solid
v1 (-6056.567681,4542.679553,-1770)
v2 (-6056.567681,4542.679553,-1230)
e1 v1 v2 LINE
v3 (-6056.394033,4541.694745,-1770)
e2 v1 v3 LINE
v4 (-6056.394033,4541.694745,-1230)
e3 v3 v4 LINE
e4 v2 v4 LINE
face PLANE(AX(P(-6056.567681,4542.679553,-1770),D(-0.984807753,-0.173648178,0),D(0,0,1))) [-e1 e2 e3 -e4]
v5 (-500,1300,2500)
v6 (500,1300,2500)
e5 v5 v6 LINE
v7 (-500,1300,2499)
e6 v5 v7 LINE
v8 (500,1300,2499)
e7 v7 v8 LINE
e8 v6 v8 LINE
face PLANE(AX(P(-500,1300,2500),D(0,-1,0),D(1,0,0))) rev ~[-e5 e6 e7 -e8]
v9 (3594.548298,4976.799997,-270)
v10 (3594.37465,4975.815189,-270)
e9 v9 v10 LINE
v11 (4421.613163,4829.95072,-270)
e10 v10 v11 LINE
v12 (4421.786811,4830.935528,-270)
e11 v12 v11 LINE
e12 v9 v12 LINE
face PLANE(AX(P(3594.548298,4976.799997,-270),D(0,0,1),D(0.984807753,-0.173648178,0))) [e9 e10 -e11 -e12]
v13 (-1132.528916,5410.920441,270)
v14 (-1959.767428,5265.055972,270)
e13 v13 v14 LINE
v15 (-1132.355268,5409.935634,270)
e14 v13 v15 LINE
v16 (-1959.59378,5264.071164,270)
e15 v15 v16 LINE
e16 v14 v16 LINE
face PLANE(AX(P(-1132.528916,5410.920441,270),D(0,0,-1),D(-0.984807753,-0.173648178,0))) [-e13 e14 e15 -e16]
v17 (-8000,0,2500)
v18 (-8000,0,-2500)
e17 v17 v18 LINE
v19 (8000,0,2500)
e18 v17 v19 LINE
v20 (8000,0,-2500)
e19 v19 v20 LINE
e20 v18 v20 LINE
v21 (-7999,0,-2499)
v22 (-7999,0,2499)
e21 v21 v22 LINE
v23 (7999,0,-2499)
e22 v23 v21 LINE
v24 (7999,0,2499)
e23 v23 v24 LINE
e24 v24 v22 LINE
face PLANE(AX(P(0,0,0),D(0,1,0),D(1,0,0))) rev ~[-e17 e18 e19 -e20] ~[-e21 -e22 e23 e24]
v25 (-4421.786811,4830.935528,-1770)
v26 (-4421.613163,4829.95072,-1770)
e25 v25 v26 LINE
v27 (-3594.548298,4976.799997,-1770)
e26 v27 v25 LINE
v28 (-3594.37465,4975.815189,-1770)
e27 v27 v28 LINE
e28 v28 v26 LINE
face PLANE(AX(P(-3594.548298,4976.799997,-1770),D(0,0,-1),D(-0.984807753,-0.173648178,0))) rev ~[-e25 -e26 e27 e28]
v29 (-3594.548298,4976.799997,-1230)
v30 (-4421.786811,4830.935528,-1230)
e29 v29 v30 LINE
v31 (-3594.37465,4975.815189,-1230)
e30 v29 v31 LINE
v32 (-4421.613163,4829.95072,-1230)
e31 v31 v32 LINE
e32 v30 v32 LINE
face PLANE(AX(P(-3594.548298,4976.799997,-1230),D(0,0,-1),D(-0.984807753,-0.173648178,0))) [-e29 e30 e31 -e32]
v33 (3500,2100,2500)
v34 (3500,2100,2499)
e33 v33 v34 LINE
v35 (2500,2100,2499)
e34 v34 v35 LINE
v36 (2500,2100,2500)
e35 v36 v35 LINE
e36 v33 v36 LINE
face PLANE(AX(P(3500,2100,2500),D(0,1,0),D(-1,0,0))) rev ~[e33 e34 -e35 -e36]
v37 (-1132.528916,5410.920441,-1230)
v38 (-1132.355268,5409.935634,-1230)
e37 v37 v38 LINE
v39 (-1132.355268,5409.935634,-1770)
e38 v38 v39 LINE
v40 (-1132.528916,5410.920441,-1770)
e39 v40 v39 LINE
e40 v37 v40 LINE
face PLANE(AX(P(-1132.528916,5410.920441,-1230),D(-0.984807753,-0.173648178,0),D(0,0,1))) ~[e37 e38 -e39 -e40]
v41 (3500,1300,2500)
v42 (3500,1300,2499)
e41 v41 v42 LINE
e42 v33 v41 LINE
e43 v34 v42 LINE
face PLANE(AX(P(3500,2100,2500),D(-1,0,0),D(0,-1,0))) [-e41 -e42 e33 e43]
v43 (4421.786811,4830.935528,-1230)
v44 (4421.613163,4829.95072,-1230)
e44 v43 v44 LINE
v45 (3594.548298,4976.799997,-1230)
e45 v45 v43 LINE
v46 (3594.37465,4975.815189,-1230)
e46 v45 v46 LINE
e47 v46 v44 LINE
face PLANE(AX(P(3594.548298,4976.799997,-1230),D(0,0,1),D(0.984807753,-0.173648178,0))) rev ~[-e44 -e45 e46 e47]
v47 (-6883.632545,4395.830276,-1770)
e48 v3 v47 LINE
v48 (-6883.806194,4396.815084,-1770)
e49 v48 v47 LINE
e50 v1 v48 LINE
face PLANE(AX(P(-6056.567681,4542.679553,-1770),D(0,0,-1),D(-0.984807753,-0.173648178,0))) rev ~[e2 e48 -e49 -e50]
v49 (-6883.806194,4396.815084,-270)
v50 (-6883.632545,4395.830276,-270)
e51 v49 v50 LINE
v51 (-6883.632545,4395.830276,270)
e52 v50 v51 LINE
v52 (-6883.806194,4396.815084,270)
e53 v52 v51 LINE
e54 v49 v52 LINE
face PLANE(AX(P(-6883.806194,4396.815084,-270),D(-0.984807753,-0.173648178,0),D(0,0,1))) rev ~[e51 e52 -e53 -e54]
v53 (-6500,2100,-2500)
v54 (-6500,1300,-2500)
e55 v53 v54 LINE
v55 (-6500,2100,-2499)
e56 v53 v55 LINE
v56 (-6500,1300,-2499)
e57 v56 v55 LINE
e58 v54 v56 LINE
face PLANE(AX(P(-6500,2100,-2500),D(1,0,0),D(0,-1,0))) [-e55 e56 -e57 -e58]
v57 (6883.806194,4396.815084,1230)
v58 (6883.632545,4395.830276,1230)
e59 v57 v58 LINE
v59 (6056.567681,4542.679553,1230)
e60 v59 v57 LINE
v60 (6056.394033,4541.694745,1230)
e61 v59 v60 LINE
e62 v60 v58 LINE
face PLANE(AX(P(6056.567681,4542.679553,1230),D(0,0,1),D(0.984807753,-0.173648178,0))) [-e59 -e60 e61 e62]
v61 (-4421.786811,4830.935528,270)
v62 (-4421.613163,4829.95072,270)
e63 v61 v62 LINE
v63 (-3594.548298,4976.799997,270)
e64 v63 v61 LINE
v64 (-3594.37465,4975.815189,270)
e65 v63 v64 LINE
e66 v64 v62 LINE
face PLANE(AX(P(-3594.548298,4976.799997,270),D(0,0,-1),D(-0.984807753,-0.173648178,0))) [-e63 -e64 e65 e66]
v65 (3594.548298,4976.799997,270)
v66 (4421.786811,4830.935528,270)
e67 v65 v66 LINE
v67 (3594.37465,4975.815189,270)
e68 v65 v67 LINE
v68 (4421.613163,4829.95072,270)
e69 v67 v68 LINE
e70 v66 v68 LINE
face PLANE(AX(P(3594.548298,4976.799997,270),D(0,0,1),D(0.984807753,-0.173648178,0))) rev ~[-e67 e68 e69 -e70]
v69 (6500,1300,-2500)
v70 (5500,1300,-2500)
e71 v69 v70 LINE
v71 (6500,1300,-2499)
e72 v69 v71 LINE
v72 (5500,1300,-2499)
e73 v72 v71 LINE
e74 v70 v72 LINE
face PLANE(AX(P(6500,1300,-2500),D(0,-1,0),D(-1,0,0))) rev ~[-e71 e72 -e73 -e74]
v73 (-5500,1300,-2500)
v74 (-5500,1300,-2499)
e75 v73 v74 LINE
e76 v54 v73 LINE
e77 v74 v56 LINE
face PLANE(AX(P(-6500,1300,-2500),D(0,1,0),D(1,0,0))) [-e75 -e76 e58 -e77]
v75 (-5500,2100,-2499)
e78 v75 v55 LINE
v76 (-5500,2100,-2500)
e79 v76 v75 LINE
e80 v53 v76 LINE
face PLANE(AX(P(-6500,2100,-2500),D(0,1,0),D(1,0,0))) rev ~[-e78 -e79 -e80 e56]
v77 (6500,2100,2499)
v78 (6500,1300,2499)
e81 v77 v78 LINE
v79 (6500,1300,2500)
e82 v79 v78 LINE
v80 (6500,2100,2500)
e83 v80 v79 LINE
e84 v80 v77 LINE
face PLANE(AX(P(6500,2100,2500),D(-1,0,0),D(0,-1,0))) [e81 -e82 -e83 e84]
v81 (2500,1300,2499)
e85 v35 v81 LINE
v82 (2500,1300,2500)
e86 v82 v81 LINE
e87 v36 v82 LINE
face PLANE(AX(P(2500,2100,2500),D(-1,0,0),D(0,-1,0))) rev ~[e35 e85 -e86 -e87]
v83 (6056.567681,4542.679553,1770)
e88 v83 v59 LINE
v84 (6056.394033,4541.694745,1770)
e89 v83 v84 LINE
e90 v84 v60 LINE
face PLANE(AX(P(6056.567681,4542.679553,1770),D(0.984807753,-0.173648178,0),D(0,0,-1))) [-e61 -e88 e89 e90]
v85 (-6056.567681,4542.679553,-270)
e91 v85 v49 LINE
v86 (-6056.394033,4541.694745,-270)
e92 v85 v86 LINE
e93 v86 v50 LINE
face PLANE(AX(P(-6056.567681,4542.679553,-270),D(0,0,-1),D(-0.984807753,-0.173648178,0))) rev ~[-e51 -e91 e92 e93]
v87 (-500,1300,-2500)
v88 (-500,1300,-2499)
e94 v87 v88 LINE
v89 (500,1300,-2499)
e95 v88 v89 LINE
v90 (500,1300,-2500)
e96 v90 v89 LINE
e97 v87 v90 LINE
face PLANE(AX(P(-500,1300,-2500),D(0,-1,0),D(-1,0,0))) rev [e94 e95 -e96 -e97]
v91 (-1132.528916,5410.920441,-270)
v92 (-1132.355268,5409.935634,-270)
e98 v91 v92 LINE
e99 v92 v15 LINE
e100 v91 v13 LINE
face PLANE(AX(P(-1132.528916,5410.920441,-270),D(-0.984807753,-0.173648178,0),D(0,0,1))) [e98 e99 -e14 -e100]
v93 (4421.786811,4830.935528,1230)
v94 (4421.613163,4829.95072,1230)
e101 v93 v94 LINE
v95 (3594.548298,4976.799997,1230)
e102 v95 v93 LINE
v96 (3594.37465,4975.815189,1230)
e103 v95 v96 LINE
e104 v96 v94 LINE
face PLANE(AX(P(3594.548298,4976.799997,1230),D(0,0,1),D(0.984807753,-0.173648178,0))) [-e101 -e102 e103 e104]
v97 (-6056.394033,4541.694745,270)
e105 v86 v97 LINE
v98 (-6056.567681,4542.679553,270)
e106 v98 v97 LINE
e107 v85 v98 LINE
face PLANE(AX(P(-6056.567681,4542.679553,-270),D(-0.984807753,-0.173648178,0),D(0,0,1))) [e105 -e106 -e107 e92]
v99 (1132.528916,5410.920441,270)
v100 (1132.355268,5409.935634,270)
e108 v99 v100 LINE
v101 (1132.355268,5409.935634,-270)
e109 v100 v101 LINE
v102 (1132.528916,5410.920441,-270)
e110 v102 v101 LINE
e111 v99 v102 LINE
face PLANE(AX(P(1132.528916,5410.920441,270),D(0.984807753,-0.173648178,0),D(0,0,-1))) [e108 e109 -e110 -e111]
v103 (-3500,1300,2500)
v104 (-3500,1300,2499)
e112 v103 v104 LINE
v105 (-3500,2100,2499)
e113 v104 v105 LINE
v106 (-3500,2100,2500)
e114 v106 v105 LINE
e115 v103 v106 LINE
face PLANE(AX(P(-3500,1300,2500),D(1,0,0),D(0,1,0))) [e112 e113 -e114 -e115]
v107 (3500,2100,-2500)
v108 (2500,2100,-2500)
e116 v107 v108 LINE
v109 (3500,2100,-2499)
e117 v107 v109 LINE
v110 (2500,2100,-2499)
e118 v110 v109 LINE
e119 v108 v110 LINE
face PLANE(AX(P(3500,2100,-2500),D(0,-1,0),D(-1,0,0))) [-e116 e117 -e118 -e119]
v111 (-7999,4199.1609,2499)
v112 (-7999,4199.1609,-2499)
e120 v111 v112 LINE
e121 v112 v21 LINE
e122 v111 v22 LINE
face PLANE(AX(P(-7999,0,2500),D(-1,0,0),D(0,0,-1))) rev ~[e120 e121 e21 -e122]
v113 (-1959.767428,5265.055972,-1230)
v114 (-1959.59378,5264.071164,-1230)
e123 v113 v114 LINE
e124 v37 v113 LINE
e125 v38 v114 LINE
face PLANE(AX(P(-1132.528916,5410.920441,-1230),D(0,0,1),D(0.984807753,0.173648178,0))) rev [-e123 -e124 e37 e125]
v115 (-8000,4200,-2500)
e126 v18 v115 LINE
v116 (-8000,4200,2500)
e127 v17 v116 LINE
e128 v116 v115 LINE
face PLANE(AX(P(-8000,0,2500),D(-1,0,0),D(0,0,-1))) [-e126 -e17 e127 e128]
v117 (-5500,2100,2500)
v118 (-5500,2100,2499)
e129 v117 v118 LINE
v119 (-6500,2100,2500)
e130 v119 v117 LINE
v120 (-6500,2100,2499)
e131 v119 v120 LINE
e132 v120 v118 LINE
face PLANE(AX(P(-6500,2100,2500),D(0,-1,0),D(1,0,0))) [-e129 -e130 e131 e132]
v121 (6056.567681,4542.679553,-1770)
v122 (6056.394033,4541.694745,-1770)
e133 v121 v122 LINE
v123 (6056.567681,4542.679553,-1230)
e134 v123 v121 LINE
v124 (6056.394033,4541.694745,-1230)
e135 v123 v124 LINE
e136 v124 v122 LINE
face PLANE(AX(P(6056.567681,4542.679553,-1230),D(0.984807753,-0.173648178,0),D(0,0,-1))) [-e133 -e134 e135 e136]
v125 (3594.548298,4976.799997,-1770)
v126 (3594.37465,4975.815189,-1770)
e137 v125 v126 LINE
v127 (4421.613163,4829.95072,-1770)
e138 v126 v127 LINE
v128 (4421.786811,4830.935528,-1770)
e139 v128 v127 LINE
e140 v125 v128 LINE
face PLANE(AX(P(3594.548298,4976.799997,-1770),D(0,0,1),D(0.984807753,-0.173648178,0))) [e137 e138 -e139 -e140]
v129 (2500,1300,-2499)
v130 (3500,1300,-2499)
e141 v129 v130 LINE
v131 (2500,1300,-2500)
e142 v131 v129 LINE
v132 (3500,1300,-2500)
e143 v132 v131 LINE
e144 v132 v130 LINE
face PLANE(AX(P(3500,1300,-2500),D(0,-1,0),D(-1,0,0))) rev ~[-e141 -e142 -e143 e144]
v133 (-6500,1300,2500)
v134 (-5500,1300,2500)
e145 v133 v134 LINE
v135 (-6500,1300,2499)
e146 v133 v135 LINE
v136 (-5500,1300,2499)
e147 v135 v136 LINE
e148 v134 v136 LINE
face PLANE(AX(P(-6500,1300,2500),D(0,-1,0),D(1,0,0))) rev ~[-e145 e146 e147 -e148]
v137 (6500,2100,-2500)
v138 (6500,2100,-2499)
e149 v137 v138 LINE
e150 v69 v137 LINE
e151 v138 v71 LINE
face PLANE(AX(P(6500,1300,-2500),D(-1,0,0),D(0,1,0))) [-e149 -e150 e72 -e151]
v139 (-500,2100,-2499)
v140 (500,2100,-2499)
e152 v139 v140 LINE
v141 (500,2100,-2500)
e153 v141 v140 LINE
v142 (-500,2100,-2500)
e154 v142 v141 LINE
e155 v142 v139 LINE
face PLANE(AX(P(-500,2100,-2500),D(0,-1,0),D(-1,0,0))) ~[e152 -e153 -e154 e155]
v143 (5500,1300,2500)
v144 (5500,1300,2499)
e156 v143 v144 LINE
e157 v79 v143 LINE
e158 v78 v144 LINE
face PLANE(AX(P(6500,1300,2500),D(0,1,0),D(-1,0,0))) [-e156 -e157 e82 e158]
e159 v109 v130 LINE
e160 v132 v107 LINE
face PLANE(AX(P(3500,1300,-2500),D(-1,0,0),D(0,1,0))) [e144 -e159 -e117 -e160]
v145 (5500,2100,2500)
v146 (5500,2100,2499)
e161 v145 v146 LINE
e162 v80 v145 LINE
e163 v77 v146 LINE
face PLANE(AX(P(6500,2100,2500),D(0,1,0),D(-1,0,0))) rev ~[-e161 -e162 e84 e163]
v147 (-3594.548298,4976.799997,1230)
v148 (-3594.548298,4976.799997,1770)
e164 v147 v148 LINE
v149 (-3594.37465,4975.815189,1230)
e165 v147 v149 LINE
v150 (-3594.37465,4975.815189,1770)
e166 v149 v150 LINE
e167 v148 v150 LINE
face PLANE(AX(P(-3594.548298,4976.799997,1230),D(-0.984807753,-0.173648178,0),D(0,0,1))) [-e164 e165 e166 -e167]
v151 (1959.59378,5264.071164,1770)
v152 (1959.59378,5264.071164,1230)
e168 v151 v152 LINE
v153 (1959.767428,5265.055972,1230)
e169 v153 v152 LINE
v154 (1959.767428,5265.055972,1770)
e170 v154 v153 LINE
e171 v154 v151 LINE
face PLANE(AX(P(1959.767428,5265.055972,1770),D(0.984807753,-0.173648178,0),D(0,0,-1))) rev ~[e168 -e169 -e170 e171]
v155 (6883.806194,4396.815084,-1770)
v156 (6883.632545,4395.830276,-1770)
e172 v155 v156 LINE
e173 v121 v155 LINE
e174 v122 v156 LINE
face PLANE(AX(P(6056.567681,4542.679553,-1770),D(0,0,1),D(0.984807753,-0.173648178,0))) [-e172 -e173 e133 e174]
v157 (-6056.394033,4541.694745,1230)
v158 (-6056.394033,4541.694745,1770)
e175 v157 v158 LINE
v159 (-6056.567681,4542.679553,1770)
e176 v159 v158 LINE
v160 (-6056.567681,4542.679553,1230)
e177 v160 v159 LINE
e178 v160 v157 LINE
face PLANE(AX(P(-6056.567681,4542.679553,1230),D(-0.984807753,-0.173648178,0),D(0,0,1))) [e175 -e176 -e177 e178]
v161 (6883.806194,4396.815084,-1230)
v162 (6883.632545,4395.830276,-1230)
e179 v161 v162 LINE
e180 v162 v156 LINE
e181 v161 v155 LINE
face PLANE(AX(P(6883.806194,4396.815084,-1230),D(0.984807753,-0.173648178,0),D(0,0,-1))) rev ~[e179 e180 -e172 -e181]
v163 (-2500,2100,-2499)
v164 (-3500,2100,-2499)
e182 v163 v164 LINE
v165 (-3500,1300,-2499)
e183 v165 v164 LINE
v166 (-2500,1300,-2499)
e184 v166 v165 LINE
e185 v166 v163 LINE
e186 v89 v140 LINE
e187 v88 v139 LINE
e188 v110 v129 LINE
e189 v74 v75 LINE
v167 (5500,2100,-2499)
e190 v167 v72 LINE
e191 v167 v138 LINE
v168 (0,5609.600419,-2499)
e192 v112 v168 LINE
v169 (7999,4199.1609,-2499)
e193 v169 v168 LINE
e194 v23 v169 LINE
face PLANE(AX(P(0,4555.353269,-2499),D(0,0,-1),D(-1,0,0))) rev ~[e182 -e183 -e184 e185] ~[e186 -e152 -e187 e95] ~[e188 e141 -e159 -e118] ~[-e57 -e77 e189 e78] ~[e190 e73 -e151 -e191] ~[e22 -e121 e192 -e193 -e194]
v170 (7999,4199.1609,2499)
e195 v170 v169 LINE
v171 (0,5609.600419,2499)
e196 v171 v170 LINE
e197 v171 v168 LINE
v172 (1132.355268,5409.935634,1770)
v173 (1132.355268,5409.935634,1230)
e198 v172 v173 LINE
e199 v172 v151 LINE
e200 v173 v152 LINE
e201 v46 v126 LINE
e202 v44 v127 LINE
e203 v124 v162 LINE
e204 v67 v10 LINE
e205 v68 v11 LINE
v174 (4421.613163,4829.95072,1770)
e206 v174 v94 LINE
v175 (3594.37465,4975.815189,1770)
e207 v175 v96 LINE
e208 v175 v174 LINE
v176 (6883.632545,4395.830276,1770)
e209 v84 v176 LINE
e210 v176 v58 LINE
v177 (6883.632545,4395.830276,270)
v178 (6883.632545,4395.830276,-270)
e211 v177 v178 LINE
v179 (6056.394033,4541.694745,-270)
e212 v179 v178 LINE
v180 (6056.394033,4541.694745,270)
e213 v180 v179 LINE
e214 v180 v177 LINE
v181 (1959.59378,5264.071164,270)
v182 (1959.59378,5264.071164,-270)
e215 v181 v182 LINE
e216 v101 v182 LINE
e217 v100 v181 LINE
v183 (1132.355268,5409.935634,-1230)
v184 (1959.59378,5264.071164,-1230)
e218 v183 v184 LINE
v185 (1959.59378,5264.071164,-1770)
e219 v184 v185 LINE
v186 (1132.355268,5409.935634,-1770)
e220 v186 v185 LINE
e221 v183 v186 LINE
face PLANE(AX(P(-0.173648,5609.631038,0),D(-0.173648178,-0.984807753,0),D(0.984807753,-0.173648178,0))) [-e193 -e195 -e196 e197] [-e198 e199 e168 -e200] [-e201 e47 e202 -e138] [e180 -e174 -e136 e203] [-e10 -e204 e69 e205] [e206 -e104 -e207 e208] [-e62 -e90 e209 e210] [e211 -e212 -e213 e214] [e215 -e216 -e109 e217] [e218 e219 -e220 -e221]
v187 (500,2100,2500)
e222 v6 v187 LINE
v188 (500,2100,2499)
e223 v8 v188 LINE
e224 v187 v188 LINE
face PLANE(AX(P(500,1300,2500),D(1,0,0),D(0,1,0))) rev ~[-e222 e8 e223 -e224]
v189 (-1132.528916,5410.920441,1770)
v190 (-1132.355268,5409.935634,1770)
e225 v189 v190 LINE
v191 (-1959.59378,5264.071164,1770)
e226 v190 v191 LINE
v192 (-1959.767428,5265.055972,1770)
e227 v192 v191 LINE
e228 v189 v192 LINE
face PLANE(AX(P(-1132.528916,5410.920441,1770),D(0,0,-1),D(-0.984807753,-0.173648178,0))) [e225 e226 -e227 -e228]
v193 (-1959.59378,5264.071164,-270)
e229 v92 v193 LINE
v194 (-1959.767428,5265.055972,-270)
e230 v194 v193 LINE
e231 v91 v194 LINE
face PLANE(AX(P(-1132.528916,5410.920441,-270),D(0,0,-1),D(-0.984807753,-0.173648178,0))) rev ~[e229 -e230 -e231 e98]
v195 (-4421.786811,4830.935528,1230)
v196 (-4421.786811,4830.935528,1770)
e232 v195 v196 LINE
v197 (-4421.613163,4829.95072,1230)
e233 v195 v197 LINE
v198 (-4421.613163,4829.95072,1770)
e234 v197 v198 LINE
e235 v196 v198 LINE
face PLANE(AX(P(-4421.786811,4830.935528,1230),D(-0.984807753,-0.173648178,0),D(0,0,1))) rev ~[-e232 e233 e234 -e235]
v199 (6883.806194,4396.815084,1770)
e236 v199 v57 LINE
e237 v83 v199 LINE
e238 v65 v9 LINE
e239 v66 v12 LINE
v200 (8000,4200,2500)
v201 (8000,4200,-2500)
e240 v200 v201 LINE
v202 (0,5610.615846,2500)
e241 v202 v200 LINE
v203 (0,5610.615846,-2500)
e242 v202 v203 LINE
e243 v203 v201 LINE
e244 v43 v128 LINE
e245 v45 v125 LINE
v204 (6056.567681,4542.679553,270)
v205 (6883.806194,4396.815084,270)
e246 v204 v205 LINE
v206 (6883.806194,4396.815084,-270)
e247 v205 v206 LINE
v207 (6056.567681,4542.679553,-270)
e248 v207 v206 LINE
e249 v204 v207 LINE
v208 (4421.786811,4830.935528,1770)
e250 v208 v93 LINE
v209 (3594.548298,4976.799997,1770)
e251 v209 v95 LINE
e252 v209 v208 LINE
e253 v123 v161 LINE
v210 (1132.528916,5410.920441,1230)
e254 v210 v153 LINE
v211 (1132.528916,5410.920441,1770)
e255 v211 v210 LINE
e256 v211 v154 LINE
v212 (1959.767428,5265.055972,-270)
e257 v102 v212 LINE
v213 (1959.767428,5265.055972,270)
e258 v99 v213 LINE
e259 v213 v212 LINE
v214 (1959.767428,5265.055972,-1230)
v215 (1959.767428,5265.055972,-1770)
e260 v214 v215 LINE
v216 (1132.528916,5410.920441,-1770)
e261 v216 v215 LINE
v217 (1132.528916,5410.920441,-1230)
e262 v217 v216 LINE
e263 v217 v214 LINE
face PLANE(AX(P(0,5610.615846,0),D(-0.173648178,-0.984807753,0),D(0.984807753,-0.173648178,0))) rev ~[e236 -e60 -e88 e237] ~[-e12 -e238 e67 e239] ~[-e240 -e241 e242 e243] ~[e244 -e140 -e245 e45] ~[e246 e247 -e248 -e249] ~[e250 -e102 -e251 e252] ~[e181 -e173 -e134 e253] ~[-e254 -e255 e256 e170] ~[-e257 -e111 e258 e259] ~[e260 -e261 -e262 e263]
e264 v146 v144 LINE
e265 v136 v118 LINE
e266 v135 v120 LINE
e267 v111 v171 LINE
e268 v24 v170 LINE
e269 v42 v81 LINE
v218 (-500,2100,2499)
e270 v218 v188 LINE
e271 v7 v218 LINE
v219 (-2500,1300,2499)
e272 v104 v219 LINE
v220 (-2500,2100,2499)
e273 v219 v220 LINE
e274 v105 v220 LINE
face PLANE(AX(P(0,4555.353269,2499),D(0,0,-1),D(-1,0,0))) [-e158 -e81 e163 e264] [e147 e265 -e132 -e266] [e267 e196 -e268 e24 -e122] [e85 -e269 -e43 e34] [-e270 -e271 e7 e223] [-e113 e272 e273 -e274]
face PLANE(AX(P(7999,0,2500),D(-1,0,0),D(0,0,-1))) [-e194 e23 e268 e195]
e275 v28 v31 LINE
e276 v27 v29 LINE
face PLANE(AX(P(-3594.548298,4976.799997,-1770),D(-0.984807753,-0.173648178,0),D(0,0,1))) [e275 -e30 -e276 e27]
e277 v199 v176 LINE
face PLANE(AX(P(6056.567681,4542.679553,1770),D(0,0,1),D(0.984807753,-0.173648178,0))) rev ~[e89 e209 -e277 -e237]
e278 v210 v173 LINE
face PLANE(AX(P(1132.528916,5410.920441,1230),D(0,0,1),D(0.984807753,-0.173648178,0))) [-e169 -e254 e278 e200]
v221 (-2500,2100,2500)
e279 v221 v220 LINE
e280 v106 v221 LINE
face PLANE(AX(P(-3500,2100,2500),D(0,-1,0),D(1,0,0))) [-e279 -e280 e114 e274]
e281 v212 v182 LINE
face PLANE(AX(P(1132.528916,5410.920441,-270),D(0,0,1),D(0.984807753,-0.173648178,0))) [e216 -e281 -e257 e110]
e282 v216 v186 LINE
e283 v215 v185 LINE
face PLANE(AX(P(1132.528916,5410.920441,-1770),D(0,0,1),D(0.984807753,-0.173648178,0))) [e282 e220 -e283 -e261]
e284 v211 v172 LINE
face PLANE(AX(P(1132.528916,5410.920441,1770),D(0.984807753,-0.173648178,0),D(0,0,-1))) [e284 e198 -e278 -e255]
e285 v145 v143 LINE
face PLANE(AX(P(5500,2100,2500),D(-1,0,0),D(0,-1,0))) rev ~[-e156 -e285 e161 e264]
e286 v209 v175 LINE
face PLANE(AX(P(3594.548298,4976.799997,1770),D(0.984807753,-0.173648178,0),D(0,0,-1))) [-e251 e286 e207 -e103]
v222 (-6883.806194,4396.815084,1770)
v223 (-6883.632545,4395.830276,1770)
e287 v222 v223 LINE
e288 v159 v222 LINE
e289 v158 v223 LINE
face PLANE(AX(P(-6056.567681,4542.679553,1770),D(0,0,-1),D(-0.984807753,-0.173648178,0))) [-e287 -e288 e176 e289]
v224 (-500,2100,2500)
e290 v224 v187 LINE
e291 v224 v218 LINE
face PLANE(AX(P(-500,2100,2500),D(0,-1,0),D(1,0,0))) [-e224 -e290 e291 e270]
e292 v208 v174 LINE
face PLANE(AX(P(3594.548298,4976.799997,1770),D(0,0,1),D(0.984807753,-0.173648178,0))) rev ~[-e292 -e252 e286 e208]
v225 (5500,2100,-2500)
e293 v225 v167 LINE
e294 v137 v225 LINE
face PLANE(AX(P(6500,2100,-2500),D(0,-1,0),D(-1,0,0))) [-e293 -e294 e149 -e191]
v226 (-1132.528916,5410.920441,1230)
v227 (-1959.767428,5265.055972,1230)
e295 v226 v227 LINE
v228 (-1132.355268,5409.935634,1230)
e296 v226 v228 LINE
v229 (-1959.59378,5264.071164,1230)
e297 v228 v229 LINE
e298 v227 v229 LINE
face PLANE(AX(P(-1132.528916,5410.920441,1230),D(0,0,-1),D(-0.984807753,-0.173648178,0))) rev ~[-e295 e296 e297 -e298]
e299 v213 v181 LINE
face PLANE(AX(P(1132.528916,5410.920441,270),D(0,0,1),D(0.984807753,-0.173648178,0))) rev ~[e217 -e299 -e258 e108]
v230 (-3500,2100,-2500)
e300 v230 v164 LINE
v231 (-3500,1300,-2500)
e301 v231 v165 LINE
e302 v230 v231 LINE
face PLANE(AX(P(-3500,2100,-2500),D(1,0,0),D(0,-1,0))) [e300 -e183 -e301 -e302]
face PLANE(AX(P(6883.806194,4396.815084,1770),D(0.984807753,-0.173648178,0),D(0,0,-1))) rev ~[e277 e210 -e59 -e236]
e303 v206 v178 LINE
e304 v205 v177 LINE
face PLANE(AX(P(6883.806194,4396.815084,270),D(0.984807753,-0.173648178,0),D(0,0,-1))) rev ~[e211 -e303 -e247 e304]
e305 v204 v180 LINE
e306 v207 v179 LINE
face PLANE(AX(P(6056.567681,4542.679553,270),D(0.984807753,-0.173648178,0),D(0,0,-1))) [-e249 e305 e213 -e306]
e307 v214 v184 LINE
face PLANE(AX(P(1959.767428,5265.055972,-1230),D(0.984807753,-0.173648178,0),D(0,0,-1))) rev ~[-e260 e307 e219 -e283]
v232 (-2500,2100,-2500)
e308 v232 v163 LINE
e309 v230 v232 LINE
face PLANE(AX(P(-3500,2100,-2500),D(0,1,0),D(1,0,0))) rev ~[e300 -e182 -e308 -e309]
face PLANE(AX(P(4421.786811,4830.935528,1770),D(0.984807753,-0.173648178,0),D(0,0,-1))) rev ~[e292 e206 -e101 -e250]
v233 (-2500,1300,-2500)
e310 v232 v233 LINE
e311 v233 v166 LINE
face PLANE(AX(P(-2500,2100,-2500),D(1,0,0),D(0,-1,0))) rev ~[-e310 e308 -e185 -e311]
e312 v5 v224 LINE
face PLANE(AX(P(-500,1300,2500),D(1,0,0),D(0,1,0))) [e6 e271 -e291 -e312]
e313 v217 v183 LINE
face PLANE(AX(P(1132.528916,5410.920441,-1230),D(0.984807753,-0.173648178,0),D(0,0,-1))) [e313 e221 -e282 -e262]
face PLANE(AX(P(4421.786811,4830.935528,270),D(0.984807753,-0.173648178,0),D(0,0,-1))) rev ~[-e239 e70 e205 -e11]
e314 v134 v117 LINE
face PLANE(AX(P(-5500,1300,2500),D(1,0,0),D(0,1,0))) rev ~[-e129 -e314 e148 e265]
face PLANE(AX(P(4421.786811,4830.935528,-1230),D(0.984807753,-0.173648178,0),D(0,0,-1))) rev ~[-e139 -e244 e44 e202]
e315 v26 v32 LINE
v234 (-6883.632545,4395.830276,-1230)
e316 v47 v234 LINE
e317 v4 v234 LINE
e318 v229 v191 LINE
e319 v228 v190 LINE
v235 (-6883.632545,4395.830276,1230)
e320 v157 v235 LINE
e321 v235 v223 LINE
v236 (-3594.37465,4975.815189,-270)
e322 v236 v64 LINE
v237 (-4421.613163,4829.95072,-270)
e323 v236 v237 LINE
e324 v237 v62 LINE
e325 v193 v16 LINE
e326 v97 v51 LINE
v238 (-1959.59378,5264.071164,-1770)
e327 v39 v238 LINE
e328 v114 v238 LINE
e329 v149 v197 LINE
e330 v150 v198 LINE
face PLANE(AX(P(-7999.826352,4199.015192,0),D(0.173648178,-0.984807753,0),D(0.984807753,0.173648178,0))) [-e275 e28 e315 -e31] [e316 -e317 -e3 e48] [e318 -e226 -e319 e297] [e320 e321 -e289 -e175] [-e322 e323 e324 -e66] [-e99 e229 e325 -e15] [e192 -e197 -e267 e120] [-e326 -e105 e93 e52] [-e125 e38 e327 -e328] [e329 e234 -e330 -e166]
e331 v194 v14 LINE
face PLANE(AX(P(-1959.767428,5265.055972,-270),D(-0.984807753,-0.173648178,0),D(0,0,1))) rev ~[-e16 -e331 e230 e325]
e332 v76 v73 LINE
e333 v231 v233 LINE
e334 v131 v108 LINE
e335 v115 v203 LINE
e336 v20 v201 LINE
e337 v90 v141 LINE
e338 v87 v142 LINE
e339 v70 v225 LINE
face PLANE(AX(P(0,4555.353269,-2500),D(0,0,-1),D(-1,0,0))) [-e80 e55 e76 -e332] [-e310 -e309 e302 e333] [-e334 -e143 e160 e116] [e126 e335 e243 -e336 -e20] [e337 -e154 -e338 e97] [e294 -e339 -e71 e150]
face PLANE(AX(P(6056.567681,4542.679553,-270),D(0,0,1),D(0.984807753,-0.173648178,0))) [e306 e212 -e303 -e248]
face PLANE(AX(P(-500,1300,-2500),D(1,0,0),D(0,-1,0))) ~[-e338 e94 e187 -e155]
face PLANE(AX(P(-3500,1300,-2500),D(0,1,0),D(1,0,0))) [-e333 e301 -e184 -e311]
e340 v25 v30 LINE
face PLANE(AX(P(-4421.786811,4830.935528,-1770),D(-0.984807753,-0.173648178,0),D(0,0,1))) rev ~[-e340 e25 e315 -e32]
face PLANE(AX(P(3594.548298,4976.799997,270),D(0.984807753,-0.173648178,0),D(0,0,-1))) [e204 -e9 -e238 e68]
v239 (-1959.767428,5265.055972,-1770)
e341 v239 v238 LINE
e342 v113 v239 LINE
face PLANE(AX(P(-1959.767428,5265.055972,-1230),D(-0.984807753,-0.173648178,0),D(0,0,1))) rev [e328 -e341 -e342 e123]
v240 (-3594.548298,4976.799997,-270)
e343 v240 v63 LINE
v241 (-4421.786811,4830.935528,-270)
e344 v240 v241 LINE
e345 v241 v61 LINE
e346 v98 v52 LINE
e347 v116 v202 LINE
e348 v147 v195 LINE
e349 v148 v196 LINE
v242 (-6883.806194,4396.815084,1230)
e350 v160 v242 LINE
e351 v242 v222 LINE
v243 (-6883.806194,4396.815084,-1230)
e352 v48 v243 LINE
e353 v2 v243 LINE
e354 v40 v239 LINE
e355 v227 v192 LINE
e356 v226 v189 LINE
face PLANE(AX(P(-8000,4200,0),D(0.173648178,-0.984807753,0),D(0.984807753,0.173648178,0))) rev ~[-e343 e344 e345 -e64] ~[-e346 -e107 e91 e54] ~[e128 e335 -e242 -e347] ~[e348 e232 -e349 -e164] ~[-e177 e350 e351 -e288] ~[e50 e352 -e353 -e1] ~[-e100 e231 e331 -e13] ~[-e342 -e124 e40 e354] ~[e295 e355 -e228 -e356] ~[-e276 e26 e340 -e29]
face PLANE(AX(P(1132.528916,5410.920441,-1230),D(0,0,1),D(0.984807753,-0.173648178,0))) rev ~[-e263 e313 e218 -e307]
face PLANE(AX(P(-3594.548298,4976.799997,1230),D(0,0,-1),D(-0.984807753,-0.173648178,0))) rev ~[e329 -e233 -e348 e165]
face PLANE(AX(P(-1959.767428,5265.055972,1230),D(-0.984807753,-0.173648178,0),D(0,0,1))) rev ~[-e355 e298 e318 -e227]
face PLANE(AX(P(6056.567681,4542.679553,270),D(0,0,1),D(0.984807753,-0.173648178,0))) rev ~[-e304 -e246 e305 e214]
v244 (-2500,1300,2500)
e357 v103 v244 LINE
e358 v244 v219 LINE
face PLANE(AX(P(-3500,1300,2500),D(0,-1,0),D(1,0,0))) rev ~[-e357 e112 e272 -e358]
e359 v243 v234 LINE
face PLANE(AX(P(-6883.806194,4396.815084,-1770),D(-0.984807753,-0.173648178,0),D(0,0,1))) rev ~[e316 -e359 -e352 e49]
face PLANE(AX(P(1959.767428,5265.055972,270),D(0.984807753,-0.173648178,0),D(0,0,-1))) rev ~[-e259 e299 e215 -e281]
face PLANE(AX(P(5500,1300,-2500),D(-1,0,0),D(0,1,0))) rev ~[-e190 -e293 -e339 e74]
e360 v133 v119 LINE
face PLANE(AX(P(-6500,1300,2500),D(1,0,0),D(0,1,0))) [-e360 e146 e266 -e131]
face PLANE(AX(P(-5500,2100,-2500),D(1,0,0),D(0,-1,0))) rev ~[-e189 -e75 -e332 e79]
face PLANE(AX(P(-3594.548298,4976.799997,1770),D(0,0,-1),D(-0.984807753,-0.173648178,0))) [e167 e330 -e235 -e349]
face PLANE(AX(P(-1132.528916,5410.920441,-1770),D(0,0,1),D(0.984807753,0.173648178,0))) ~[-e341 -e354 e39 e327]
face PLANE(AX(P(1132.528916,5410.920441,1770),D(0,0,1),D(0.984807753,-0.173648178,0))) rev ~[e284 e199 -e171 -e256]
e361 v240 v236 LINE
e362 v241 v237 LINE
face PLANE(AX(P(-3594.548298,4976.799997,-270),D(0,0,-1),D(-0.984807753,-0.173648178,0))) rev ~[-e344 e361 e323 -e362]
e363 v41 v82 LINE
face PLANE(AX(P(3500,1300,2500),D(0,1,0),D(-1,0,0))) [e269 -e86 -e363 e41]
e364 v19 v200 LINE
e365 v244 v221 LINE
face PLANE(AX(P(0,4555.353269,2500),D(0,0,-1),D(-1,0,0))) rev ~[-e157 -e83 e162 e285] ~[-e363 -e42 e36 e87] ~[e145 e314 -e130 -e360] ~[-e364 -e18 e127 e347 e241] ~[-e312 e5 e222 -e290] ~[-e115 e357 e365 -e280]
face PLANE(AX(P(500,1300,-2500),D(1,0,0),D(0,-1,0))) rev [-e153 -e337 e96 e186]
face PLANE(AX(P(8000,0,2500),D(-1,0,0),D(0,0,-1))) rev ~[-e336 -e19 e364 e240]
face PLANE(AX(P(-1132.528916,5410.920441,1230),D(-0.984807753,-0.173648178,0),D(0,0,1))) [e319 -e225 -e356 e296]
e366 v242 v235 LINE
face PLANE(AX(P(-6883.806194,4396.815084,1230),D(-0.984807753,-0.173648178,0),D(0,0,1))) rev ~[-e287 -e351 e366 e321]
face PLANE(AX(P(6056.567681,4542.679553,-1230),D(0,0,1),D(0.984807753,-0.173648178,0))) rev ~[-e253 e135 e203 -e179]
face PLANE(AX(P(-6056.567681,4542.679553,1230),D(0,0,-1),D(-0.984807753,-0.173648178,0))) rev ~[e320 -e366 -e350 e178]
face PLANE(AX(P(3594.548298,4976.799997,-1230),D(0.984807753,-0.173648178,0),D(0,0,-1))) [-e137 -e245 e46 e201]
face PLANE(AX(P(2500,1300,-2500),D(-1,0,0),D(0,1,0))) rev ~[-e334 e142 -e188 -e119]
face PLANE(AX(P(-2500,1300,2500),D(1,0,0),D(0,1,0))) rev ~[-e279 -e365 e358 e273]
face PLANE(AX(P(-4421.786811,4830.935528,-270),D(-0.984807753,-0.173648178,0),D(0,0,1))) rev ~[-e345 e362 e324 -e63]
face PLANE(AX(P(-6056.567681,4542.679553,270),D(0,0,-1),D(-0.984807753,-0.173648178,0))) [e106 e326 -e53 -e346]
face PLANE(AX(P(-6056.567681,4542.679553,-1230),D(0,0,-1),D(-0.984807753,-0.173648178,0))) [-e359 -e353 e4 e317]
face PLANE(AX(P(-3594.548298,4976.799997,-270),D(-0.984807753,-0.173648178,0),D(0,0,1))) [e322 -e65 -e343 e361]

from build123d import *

# Parameters (mm, degrees)
SKETCH2_W               = 16000
SKETCH2_H               = 5000
BOSS_EXTRUDE1_DEPTH     = 4200
BOSS_EXTRUDE2_DEPTH     = 2500
SHELL1_T                = -1
CUT_EXTRUDE1_REACH      = 10978.293
SKETCH4_W               = 1000
SKETCH4_H               = 800
LPATTERN1_COUNT         = 3
LPATTERN1_PITCH         = 3000
MIRROR1_COPY_1_REACH    = 10978.293
MIRROR1_COPY_1_SKETCH_W = 1000
MIRROR1_COPY_1_SKETCH_H = 800
MIRROR1_COPY_2_REACH    = 10978.293
MIRROR1_COPY_2_SKETCH_W = 1000
MIRROR1_COPY_2_SKETCH_H = 800
MIRROR4_COPY_1_REACH    = 10978.293
MIRROR4_COPY_1_SKETCH_W = 1000
MIRROR4_COPY_1_SKETCH_H = 800
MIRROR4_COPY_2_REACH    = 10978.293
MIRROR4_COPY_2_SKETCH_W = 1000
MIRROR4_COPY_2_SKETCH_H = 800
MIRROR4_COPY_3_REACH    = 10978.293
MIRROR4_COPY_3_SKETCH_W = 1000
MIRROR4_COPY_3_SKETCH_H = 800
MIRROR4_COPY_4_REACH    = 10978.293
MIRROR4_COPY_4_SKETCH_W = 1000
MIRROR4_COPY_4_SKETCH_H = 800
SKETCH5_W               = 840
SKETCH5_H               = 540
CUT_EXTRUDE2_DEPTH      = 1
LPATTERN2_COUNT         = 3
LPATTERN2_PITCH         = 1500
LPATTERN2_COUNT_DIR2    = 3
LPATTERN2_PITCH_DIR2    = 2500
MIRROR9_COPY_1_SKETCH_W = 840
MIRROR9_COPY_1_SKETCH_H = 540
MIRROR9_COPY_1_DEPTH    = 1
MIRROR9_COPY_2_SKETCH_W = 840
MIRROR9_COPY_2_SKETCH_H = 540
MIRROR9_COPY_2_DEPTH    = 1
MIRROR9_COPY_3_SKETCH_W = 840
MIRROR9_COPY_3_SKETCH_H = 540
MIRROR9_COPY_3_DEPTH    = 1
MIRROR9_COPY_4_SKETCH_W = 840
MIRROR9_COPY_4_SKETCH_H = 540
MIRROR9_COPY_4_DEPTH    = 1
MIRROR9_COPY_5_SKETCH_W = 840
MIRROR9_COPY_5_SKETCH_H = 540
MIRROR9_COPY_5_DEPTH    = 1
MIRROR9_COPY_6_SKETCH_W = 840
MIRROR9_COPY_6_SKETCH_H = 540
MIRROR9_COPY_6_DEPTH    = 1
MIRROR9_COPY_7_SKETCH_W = 840
MIRROR9_COPY_7_SKETCH_H = 540
MIRROR9_COPY_7_DEPTH    = 1
MIRROR9_COPY_8_SKETCH_W = 840
MIRROR9_COPY_8_SKETCH_H = 540
MIRROR9_COPY_8_DEPTH    = 1


with BuildPart() as part:
    # Sketch2 → Boss-Extrude1 (new body)
    with BuildSketch(Plane(origin=(0, 0, 0), x_dir=(1, 0, 0), z_dir=(0, 1, 0))):
        Rectangle(SKETCH2_W, SKETCH2_H)
    extrude(amount=BOSS_EXTRUDE1_DEPTH)

    # Sketch3 → Boss-Extrude2 (add, symmetric)
    with BuildSketch(Plane.XY):
        Polygon((-8000, 4200), (0, 5610.615845668), (8000, 4200), align=None)
    extrude(amount=BOSS_EXTRUDE2_DEPTH, both=True)

    # Shell1
    shell1_openings = [part.faces().sort_by_distance(p)[0] for p in [
        (0, 0, 0),
    ]]
    offset(amount=SHELL1_T, openings=shell1_openings, kind=Kind.INTERSECTION)

    # Sketch4 → Cut-Extrude1 (cut, up to next)
    with BuildSketch(Plane.XY.offset(2500), mode=Mode.PRIVATE) as cut_extrude1_sk1:
        with Locations((0, 1700)):
            Rectangle(SKETCH4_W, SKETCH4_H)
    cut_extrude1_tool1 = extrude(cut_extrude1_sk1.sketch, amount=-CUT_EXTRUDE1_REACH, mode=Mode.PRIVATE) & part.part
    cut_extrude1 = cut_extrude1_tool1.solids().sort_by_distance((0, 1700, 2500))[0]
    add(cut_extrude1, mode=Mode.SUBTRACT)

    # LPattern1: Cut-Extrude1 ×3
    with Locations(*[(-i * LPATTERN1_PITCH, 0, 0) for i in range(1, LPATTERN1_COUNT)]):
        add(cut_extrude1, mode=Mode.SUBTRACT)

    # Mirror1 copy 1 sketch → Mirror1 copy 1 (cut, up to next)
    with BuildSketch(Plane(origin=(3000, 0, 2500), x_dir=(-1, 0, 0), z_dir=(0, 0, 1)), mode=Mode.PRIVATE) as mirror1_copy_1_sk1:
        with Locations((0, -1700)):
            Rectangle(MIRROR1_COPY_1_SKETCH_W, MIRROR1_COPY_1_SKETCH_H)
    mirror1_copy_1_tool1 = extrude(mirror1_copy_1_sk1.sketch, amount=-MIRROR1_COPY_1_REACH, mode=Mode.PRIVATE) & part.part
    add(mirror1_copy_1_tool1.solids().sort_by_distance((3000, 1700, 2500))[0], mode=Mode.SUBTRACT)

    # Mirror1 copy 2 sketch → Mirror1 copy 2 (cut, up to next)
    with BuildSketch(Plane(origin=(6000, 0, 2500), x_dir=(-1, 0, 0), z_dir=(0, 0, 1)), mode=Mode.PRIVATE) as mirror1_copy_2_sk1:
        with Locations((0, -1700)):
            Rectangle(MIRROR1_COPY_2_SKETCH_W, MIRROR1_COPY_2_SKETCH_H)
    mirror1_copy_2_tool1 = extrude(mirror1_copy_2_sk1.sketch, amount=-MIRROR1_COPY_2_REACH, mode=Mode.PRIVATE) & part.part
    add(mirror1_copy_2_tool1.solids().sort_by_distance((6000, 1700, 2500))[0], mode=Mode.SUBTRACT)

    # Mirror4: Cut-Extrude1 across plane
    add(cut_extrude1.mirror(Plane.XY), mode=Mode.SUBTRACT)

    # Mirror4 copy 1 sketch → Mirror4 copy 1 (cut, up to next)
    with BuildSketch(Plane(origin=(-3000, 0, -2500), x_dir=(1, 0, 0), z_dir=(0, 0, -1)), mode=Mode.PRIVATE) as mirror4_copy_1_sk1:
        with Locations((0, -1700)):
            Rectangle(MIRROR4_COPY_1_SKETCH_W, MIRROR4_COPY_1_SKETCH_H)
    mirror4_copy_1_tool1 = extrude(mirror4_copy_1_sk1.sketch, amount=-MIRROR4_COPY_1_REACH, mode=Mode.PRIVATE) & part.part
    add(mirror4_copy_1_tool1.solids().sort_by_distance((-3000, 1700, -2500))[0], mode=Mode.SUBTRACT)

    # Mirror4 copy 2 sketch → Mirror4 copy 2 (cut, up to next)
    with BuildSketch(Plane(origin=(-6000, 0, -2500), x_dir=(1, 0, 0), z_dir=(0, 0, -1)), mode=Mode.PRIVATE) as mirror4_copy_2_sk1:
        with Locations((0, -1700)):
            Rectangle(MIRROR4_COPY_2_SKETCH_W, MIRROR4_COPY_2_SKETCH_H)
    mirror4_copy_2_tool1 = extrude(mirror4_copy_2_sk1.sketch, amount=-MIRROR4_COPY_2_REACH, mode=Mode.PRIVATE) & part.part
    add(mirror4_copy_2_tool1.solids().sort_by_distance((-6000, 1700, -2500))[0], mode=Mode.SUBTRACT)

    # Mirror4 copy 3 sketch → Mirror4 copy 3 (cut, up to next)
    with BuildSketch(Plane(origin=(3000, 0, -2500), x_dir=(-1, 0, 0), z_dir=(0, 0, -1)), mode=Mode.PRIVATE) as mirror4_copy_3_sk1:
        with Locations((0, 1700)):
            Rectangle(MIRROR4_COPY_3_SKETCH_W, MIRROR4_COPY_3_SKETCH_H)
    mirror4_copy_3_tool1 = extrude(mirror4_copy_3_sk1.sketch, amount=-MIRROR4_COPY_3_REACH, mode=Mode.PRIVATE) & part.part
    add(mirror4_copy_3_tool1.solids().sort_by_distance((3000, 1700, -2500))[0], mode=Mode.SUBTRACT)

    # Mirror4 copy 4 sketch → Mirror4 copy 4 (cut, up to next)
    with BuildSketch(Plane(origin=(6000, 0, -2500), x_dir=(-1, 0, 0), z_dir=(0, 0, -1)), mode=Mode.PRIVATE) as mirror4_copy_4_sk1:
        with Locations((0, 1700)):
            Rectangle(MIRROR4_COPY_4_SKETCH_W, MIRROR4_COPY_4_SKETCH_H)
    mirror4_copy_4_tool1 = extrude(mirror4_copy_4_sk1.sketch, amount=-MIRROR4_COPY_4_REACH, mode=Mode.PRIVATE) & part.part
    add(mirror4_copy_4_tool1.solids().sort_by_distance((6000, 1700, -2500))[0], mode=Mode.SUBTRACT)

    # Sketch5 → Cut-Extrude2 (cut)
    with BuildSketch(Plane(origin=(959.47181784, 5441.435076953, 0), x_dir=(0.9848077530122079, -0.17364817766693114, 0), z_dir=(0.17364817766693114, 0.9848077530122079, 0))):
        with Locations((595.726782811, 1500)):
            Rectangle(SKETCH5_W, SKETCH5_H)
    cut_extrude2 = extrude(amount=-CUT_EXTRUDE2_DEPTH, mode=Mode.SUBTRACT)

    # LPattern2: Cut-Extrude2 3 × 3
    with Locations(*[Vector(0, 0, 1) * (i * LPATTERN2_PITCH) + Vector(0.9848077530122079, -0.17364817766693114, 0) * (j * LPATTERN2_PITCH_DIR2) for i in range(LPATTERN2_COUNT) for j in range(LPATTERN2_COUNT_DIR2) if (i, j) != (0, 0)]):
        add(cut_extrude2, mode=Mode.SUBTRACT)

    # Mirror9: Cut-Extrude2 across plane
    add(cut_extrude2.mirror(Plane(origin=(0, 0, 0), x_dir=(0, 0, 1), z_dir=(1, 0, 0))), mode=Mode.SUBTRACT)

    # Mirror9 copy 1 sketch → Mirror9 copy 1 (cut)
    with BuildSketch(Plane(origin=(-3421.491200371, 5007.314632786, 0), x_dir=(-0.9848077530122079, -0.17364817766693114, 0), z_dir=(-0.17364817766693114, 0.9848077530122079, 0))):
        with Locations((595.726782811, -1500)):
            Rectangle(MIRROR9_COPY_1_SKETCH_W, MIRROR9_COPY_1_SKETCH_H)
    extrude(amount=-MIRROR9_COPY_1_DEPTH, mode=Mode.SUBTRACT)

    # Mirror9 copy 2 sketch → Mirror9 copy 2 (cut)
    with BuildSketch(Plane(origin=(-5883.510582901, 4573.194188618, 0), x_dir=(-0.9848077530122079, -0.17364817766693114, 0), z_dir=(-0.17364817766693114, 0.9848077530122079, 0))):
        with Locations((595.726782811, -1500)):
            Rectangle(MIRROR9_COPY_2_SKETCH_W, MIRROR9_COPY_2_SKETCH_H)
    extrude(amount=-MIRROR9_COPY_2_DEPTH, mode=Mode.SUBTRACT)

    # Mirror9 copy 3 sketch → Mirror9 copy 3 (cut)
    with BuildSketch(Plane(origin=(-959.47181784, 5441.435076953, 1500), x_dir=(-0.9848077530122079, -0.17364817766693114, 0), z_dir=(-0.17364817766693114, 0.9848077530122079, 0))):
        with Locations((595.726782811, -1500)):
            Rectangle(MIRROR9_COPY_3_SKETCH_W, MIRROR9_COPY_3_SKETCH_H)
    extrude(amount=-MIRROR9_COPY_3_DEPTH, mode=Mode.SUBTRACT)

    # Mirror9 copy 4 sketch → Mirror9 copy 4 (cut)
    with BuildSketch(Plane(origin=(-3421.491200371, 5007.314632786, 1500), x_dir=(-0.9848077530122079, -0.17364817766693114, 0), z_dir=(-0.17364817766693114, 0.9848077530122079, 0))):
        with Locations((595.726782811, -1500)):
            Rectangle(MIRROR9_COPY_4_SKETCH_W, MIRROR9_COPY_4_SKETCH_H)
    extrude(amount=-MIRROR9_COPY_4_DEPTH, mode=Mode.SUBTRACT)

    # Mirror9 copy 5 sketch → Mirror9 copy 5 (cut)
    with BuildSketch(Plane(origin=(-5883.510582901, 4573.194188618, 1500), x_dir=(-0.9848077530122079, -0.17364817766693114, 0), z_dir=(-0.17364817766693114, 0.9848077530122079, 0))):
        with Locations((595.726782811, -1500)):
            Rectangle(MIRROR9_COPY_5_SKETCH_W, MIRROR9_COPY_5_SKETCH_H)
    extrude(amount=-MIRROR9_COPY_5_DEPTH, mode=Mode.SUBTRACT)

    # Mirror9 copy 6 sketch → Mirror9 copy 6 (cut)
    with BuildSketch(Plane(origin=(-959.47181784, 5441.435076953, 3000), x_dir=(-0.9848077530122079, -0.17364817766693114, 0), z_dir=(-0.17364817766693114, 0.9848077530122079, 0))):
        with Locations((595.726782811, -1500)):
            Rectangle(MIRROR9_COPY_6_SKETCH_W, MIRROR9_COPY_6_SKETCH_H)
    extrude(amount=-MIRROR9_COPY_6_DEPTH, mode=Mode.SUBTRACT)

    # Mirror9 copy 7 sketch → Mirror9 copy 7 (cut)
    with BuildSketch(Plane(origin=(-3421.491200371, 5007.314632786, 3000), x_dir=(-0.9848077530122079, -0.17364817766693114, 0), z_dir=(-0.17364817766693114, 0.9848077530122079, 0))):
        with Locations((595.726782811, -1500)):
            Rectangle(MIRROR9_COPY_7_SKETCH_W, MIRROR9_COPY_7_SKETCH_H)
    extrude(amount=-MIRROR9_COPY_7_DEPTH, mode=Mode.SUBTRACT)

    # Mirror9 copy 8 sketch → Mirror9 copy 8 (cut)
    with BuildSketch(Plane(origin=(-5883.510582901, 4573.194188618, 3000), x_dir=(-0.9848077530122079, -0.17364817766693114, 0), z_dir=(-0.17364817766693114, 0.9848077530122079, 0))):
        with Locations((595.726782811, -1500)):
            Rectangle(MIRROR9_COPY_8_SKETCH_W, MIRROR9_COPY_8_SKETCH_H)
    extrude(amount=-MIRROR9_COPY_8_DEPTH, mode=Mode.SUBTRACT)


solid = part.part
